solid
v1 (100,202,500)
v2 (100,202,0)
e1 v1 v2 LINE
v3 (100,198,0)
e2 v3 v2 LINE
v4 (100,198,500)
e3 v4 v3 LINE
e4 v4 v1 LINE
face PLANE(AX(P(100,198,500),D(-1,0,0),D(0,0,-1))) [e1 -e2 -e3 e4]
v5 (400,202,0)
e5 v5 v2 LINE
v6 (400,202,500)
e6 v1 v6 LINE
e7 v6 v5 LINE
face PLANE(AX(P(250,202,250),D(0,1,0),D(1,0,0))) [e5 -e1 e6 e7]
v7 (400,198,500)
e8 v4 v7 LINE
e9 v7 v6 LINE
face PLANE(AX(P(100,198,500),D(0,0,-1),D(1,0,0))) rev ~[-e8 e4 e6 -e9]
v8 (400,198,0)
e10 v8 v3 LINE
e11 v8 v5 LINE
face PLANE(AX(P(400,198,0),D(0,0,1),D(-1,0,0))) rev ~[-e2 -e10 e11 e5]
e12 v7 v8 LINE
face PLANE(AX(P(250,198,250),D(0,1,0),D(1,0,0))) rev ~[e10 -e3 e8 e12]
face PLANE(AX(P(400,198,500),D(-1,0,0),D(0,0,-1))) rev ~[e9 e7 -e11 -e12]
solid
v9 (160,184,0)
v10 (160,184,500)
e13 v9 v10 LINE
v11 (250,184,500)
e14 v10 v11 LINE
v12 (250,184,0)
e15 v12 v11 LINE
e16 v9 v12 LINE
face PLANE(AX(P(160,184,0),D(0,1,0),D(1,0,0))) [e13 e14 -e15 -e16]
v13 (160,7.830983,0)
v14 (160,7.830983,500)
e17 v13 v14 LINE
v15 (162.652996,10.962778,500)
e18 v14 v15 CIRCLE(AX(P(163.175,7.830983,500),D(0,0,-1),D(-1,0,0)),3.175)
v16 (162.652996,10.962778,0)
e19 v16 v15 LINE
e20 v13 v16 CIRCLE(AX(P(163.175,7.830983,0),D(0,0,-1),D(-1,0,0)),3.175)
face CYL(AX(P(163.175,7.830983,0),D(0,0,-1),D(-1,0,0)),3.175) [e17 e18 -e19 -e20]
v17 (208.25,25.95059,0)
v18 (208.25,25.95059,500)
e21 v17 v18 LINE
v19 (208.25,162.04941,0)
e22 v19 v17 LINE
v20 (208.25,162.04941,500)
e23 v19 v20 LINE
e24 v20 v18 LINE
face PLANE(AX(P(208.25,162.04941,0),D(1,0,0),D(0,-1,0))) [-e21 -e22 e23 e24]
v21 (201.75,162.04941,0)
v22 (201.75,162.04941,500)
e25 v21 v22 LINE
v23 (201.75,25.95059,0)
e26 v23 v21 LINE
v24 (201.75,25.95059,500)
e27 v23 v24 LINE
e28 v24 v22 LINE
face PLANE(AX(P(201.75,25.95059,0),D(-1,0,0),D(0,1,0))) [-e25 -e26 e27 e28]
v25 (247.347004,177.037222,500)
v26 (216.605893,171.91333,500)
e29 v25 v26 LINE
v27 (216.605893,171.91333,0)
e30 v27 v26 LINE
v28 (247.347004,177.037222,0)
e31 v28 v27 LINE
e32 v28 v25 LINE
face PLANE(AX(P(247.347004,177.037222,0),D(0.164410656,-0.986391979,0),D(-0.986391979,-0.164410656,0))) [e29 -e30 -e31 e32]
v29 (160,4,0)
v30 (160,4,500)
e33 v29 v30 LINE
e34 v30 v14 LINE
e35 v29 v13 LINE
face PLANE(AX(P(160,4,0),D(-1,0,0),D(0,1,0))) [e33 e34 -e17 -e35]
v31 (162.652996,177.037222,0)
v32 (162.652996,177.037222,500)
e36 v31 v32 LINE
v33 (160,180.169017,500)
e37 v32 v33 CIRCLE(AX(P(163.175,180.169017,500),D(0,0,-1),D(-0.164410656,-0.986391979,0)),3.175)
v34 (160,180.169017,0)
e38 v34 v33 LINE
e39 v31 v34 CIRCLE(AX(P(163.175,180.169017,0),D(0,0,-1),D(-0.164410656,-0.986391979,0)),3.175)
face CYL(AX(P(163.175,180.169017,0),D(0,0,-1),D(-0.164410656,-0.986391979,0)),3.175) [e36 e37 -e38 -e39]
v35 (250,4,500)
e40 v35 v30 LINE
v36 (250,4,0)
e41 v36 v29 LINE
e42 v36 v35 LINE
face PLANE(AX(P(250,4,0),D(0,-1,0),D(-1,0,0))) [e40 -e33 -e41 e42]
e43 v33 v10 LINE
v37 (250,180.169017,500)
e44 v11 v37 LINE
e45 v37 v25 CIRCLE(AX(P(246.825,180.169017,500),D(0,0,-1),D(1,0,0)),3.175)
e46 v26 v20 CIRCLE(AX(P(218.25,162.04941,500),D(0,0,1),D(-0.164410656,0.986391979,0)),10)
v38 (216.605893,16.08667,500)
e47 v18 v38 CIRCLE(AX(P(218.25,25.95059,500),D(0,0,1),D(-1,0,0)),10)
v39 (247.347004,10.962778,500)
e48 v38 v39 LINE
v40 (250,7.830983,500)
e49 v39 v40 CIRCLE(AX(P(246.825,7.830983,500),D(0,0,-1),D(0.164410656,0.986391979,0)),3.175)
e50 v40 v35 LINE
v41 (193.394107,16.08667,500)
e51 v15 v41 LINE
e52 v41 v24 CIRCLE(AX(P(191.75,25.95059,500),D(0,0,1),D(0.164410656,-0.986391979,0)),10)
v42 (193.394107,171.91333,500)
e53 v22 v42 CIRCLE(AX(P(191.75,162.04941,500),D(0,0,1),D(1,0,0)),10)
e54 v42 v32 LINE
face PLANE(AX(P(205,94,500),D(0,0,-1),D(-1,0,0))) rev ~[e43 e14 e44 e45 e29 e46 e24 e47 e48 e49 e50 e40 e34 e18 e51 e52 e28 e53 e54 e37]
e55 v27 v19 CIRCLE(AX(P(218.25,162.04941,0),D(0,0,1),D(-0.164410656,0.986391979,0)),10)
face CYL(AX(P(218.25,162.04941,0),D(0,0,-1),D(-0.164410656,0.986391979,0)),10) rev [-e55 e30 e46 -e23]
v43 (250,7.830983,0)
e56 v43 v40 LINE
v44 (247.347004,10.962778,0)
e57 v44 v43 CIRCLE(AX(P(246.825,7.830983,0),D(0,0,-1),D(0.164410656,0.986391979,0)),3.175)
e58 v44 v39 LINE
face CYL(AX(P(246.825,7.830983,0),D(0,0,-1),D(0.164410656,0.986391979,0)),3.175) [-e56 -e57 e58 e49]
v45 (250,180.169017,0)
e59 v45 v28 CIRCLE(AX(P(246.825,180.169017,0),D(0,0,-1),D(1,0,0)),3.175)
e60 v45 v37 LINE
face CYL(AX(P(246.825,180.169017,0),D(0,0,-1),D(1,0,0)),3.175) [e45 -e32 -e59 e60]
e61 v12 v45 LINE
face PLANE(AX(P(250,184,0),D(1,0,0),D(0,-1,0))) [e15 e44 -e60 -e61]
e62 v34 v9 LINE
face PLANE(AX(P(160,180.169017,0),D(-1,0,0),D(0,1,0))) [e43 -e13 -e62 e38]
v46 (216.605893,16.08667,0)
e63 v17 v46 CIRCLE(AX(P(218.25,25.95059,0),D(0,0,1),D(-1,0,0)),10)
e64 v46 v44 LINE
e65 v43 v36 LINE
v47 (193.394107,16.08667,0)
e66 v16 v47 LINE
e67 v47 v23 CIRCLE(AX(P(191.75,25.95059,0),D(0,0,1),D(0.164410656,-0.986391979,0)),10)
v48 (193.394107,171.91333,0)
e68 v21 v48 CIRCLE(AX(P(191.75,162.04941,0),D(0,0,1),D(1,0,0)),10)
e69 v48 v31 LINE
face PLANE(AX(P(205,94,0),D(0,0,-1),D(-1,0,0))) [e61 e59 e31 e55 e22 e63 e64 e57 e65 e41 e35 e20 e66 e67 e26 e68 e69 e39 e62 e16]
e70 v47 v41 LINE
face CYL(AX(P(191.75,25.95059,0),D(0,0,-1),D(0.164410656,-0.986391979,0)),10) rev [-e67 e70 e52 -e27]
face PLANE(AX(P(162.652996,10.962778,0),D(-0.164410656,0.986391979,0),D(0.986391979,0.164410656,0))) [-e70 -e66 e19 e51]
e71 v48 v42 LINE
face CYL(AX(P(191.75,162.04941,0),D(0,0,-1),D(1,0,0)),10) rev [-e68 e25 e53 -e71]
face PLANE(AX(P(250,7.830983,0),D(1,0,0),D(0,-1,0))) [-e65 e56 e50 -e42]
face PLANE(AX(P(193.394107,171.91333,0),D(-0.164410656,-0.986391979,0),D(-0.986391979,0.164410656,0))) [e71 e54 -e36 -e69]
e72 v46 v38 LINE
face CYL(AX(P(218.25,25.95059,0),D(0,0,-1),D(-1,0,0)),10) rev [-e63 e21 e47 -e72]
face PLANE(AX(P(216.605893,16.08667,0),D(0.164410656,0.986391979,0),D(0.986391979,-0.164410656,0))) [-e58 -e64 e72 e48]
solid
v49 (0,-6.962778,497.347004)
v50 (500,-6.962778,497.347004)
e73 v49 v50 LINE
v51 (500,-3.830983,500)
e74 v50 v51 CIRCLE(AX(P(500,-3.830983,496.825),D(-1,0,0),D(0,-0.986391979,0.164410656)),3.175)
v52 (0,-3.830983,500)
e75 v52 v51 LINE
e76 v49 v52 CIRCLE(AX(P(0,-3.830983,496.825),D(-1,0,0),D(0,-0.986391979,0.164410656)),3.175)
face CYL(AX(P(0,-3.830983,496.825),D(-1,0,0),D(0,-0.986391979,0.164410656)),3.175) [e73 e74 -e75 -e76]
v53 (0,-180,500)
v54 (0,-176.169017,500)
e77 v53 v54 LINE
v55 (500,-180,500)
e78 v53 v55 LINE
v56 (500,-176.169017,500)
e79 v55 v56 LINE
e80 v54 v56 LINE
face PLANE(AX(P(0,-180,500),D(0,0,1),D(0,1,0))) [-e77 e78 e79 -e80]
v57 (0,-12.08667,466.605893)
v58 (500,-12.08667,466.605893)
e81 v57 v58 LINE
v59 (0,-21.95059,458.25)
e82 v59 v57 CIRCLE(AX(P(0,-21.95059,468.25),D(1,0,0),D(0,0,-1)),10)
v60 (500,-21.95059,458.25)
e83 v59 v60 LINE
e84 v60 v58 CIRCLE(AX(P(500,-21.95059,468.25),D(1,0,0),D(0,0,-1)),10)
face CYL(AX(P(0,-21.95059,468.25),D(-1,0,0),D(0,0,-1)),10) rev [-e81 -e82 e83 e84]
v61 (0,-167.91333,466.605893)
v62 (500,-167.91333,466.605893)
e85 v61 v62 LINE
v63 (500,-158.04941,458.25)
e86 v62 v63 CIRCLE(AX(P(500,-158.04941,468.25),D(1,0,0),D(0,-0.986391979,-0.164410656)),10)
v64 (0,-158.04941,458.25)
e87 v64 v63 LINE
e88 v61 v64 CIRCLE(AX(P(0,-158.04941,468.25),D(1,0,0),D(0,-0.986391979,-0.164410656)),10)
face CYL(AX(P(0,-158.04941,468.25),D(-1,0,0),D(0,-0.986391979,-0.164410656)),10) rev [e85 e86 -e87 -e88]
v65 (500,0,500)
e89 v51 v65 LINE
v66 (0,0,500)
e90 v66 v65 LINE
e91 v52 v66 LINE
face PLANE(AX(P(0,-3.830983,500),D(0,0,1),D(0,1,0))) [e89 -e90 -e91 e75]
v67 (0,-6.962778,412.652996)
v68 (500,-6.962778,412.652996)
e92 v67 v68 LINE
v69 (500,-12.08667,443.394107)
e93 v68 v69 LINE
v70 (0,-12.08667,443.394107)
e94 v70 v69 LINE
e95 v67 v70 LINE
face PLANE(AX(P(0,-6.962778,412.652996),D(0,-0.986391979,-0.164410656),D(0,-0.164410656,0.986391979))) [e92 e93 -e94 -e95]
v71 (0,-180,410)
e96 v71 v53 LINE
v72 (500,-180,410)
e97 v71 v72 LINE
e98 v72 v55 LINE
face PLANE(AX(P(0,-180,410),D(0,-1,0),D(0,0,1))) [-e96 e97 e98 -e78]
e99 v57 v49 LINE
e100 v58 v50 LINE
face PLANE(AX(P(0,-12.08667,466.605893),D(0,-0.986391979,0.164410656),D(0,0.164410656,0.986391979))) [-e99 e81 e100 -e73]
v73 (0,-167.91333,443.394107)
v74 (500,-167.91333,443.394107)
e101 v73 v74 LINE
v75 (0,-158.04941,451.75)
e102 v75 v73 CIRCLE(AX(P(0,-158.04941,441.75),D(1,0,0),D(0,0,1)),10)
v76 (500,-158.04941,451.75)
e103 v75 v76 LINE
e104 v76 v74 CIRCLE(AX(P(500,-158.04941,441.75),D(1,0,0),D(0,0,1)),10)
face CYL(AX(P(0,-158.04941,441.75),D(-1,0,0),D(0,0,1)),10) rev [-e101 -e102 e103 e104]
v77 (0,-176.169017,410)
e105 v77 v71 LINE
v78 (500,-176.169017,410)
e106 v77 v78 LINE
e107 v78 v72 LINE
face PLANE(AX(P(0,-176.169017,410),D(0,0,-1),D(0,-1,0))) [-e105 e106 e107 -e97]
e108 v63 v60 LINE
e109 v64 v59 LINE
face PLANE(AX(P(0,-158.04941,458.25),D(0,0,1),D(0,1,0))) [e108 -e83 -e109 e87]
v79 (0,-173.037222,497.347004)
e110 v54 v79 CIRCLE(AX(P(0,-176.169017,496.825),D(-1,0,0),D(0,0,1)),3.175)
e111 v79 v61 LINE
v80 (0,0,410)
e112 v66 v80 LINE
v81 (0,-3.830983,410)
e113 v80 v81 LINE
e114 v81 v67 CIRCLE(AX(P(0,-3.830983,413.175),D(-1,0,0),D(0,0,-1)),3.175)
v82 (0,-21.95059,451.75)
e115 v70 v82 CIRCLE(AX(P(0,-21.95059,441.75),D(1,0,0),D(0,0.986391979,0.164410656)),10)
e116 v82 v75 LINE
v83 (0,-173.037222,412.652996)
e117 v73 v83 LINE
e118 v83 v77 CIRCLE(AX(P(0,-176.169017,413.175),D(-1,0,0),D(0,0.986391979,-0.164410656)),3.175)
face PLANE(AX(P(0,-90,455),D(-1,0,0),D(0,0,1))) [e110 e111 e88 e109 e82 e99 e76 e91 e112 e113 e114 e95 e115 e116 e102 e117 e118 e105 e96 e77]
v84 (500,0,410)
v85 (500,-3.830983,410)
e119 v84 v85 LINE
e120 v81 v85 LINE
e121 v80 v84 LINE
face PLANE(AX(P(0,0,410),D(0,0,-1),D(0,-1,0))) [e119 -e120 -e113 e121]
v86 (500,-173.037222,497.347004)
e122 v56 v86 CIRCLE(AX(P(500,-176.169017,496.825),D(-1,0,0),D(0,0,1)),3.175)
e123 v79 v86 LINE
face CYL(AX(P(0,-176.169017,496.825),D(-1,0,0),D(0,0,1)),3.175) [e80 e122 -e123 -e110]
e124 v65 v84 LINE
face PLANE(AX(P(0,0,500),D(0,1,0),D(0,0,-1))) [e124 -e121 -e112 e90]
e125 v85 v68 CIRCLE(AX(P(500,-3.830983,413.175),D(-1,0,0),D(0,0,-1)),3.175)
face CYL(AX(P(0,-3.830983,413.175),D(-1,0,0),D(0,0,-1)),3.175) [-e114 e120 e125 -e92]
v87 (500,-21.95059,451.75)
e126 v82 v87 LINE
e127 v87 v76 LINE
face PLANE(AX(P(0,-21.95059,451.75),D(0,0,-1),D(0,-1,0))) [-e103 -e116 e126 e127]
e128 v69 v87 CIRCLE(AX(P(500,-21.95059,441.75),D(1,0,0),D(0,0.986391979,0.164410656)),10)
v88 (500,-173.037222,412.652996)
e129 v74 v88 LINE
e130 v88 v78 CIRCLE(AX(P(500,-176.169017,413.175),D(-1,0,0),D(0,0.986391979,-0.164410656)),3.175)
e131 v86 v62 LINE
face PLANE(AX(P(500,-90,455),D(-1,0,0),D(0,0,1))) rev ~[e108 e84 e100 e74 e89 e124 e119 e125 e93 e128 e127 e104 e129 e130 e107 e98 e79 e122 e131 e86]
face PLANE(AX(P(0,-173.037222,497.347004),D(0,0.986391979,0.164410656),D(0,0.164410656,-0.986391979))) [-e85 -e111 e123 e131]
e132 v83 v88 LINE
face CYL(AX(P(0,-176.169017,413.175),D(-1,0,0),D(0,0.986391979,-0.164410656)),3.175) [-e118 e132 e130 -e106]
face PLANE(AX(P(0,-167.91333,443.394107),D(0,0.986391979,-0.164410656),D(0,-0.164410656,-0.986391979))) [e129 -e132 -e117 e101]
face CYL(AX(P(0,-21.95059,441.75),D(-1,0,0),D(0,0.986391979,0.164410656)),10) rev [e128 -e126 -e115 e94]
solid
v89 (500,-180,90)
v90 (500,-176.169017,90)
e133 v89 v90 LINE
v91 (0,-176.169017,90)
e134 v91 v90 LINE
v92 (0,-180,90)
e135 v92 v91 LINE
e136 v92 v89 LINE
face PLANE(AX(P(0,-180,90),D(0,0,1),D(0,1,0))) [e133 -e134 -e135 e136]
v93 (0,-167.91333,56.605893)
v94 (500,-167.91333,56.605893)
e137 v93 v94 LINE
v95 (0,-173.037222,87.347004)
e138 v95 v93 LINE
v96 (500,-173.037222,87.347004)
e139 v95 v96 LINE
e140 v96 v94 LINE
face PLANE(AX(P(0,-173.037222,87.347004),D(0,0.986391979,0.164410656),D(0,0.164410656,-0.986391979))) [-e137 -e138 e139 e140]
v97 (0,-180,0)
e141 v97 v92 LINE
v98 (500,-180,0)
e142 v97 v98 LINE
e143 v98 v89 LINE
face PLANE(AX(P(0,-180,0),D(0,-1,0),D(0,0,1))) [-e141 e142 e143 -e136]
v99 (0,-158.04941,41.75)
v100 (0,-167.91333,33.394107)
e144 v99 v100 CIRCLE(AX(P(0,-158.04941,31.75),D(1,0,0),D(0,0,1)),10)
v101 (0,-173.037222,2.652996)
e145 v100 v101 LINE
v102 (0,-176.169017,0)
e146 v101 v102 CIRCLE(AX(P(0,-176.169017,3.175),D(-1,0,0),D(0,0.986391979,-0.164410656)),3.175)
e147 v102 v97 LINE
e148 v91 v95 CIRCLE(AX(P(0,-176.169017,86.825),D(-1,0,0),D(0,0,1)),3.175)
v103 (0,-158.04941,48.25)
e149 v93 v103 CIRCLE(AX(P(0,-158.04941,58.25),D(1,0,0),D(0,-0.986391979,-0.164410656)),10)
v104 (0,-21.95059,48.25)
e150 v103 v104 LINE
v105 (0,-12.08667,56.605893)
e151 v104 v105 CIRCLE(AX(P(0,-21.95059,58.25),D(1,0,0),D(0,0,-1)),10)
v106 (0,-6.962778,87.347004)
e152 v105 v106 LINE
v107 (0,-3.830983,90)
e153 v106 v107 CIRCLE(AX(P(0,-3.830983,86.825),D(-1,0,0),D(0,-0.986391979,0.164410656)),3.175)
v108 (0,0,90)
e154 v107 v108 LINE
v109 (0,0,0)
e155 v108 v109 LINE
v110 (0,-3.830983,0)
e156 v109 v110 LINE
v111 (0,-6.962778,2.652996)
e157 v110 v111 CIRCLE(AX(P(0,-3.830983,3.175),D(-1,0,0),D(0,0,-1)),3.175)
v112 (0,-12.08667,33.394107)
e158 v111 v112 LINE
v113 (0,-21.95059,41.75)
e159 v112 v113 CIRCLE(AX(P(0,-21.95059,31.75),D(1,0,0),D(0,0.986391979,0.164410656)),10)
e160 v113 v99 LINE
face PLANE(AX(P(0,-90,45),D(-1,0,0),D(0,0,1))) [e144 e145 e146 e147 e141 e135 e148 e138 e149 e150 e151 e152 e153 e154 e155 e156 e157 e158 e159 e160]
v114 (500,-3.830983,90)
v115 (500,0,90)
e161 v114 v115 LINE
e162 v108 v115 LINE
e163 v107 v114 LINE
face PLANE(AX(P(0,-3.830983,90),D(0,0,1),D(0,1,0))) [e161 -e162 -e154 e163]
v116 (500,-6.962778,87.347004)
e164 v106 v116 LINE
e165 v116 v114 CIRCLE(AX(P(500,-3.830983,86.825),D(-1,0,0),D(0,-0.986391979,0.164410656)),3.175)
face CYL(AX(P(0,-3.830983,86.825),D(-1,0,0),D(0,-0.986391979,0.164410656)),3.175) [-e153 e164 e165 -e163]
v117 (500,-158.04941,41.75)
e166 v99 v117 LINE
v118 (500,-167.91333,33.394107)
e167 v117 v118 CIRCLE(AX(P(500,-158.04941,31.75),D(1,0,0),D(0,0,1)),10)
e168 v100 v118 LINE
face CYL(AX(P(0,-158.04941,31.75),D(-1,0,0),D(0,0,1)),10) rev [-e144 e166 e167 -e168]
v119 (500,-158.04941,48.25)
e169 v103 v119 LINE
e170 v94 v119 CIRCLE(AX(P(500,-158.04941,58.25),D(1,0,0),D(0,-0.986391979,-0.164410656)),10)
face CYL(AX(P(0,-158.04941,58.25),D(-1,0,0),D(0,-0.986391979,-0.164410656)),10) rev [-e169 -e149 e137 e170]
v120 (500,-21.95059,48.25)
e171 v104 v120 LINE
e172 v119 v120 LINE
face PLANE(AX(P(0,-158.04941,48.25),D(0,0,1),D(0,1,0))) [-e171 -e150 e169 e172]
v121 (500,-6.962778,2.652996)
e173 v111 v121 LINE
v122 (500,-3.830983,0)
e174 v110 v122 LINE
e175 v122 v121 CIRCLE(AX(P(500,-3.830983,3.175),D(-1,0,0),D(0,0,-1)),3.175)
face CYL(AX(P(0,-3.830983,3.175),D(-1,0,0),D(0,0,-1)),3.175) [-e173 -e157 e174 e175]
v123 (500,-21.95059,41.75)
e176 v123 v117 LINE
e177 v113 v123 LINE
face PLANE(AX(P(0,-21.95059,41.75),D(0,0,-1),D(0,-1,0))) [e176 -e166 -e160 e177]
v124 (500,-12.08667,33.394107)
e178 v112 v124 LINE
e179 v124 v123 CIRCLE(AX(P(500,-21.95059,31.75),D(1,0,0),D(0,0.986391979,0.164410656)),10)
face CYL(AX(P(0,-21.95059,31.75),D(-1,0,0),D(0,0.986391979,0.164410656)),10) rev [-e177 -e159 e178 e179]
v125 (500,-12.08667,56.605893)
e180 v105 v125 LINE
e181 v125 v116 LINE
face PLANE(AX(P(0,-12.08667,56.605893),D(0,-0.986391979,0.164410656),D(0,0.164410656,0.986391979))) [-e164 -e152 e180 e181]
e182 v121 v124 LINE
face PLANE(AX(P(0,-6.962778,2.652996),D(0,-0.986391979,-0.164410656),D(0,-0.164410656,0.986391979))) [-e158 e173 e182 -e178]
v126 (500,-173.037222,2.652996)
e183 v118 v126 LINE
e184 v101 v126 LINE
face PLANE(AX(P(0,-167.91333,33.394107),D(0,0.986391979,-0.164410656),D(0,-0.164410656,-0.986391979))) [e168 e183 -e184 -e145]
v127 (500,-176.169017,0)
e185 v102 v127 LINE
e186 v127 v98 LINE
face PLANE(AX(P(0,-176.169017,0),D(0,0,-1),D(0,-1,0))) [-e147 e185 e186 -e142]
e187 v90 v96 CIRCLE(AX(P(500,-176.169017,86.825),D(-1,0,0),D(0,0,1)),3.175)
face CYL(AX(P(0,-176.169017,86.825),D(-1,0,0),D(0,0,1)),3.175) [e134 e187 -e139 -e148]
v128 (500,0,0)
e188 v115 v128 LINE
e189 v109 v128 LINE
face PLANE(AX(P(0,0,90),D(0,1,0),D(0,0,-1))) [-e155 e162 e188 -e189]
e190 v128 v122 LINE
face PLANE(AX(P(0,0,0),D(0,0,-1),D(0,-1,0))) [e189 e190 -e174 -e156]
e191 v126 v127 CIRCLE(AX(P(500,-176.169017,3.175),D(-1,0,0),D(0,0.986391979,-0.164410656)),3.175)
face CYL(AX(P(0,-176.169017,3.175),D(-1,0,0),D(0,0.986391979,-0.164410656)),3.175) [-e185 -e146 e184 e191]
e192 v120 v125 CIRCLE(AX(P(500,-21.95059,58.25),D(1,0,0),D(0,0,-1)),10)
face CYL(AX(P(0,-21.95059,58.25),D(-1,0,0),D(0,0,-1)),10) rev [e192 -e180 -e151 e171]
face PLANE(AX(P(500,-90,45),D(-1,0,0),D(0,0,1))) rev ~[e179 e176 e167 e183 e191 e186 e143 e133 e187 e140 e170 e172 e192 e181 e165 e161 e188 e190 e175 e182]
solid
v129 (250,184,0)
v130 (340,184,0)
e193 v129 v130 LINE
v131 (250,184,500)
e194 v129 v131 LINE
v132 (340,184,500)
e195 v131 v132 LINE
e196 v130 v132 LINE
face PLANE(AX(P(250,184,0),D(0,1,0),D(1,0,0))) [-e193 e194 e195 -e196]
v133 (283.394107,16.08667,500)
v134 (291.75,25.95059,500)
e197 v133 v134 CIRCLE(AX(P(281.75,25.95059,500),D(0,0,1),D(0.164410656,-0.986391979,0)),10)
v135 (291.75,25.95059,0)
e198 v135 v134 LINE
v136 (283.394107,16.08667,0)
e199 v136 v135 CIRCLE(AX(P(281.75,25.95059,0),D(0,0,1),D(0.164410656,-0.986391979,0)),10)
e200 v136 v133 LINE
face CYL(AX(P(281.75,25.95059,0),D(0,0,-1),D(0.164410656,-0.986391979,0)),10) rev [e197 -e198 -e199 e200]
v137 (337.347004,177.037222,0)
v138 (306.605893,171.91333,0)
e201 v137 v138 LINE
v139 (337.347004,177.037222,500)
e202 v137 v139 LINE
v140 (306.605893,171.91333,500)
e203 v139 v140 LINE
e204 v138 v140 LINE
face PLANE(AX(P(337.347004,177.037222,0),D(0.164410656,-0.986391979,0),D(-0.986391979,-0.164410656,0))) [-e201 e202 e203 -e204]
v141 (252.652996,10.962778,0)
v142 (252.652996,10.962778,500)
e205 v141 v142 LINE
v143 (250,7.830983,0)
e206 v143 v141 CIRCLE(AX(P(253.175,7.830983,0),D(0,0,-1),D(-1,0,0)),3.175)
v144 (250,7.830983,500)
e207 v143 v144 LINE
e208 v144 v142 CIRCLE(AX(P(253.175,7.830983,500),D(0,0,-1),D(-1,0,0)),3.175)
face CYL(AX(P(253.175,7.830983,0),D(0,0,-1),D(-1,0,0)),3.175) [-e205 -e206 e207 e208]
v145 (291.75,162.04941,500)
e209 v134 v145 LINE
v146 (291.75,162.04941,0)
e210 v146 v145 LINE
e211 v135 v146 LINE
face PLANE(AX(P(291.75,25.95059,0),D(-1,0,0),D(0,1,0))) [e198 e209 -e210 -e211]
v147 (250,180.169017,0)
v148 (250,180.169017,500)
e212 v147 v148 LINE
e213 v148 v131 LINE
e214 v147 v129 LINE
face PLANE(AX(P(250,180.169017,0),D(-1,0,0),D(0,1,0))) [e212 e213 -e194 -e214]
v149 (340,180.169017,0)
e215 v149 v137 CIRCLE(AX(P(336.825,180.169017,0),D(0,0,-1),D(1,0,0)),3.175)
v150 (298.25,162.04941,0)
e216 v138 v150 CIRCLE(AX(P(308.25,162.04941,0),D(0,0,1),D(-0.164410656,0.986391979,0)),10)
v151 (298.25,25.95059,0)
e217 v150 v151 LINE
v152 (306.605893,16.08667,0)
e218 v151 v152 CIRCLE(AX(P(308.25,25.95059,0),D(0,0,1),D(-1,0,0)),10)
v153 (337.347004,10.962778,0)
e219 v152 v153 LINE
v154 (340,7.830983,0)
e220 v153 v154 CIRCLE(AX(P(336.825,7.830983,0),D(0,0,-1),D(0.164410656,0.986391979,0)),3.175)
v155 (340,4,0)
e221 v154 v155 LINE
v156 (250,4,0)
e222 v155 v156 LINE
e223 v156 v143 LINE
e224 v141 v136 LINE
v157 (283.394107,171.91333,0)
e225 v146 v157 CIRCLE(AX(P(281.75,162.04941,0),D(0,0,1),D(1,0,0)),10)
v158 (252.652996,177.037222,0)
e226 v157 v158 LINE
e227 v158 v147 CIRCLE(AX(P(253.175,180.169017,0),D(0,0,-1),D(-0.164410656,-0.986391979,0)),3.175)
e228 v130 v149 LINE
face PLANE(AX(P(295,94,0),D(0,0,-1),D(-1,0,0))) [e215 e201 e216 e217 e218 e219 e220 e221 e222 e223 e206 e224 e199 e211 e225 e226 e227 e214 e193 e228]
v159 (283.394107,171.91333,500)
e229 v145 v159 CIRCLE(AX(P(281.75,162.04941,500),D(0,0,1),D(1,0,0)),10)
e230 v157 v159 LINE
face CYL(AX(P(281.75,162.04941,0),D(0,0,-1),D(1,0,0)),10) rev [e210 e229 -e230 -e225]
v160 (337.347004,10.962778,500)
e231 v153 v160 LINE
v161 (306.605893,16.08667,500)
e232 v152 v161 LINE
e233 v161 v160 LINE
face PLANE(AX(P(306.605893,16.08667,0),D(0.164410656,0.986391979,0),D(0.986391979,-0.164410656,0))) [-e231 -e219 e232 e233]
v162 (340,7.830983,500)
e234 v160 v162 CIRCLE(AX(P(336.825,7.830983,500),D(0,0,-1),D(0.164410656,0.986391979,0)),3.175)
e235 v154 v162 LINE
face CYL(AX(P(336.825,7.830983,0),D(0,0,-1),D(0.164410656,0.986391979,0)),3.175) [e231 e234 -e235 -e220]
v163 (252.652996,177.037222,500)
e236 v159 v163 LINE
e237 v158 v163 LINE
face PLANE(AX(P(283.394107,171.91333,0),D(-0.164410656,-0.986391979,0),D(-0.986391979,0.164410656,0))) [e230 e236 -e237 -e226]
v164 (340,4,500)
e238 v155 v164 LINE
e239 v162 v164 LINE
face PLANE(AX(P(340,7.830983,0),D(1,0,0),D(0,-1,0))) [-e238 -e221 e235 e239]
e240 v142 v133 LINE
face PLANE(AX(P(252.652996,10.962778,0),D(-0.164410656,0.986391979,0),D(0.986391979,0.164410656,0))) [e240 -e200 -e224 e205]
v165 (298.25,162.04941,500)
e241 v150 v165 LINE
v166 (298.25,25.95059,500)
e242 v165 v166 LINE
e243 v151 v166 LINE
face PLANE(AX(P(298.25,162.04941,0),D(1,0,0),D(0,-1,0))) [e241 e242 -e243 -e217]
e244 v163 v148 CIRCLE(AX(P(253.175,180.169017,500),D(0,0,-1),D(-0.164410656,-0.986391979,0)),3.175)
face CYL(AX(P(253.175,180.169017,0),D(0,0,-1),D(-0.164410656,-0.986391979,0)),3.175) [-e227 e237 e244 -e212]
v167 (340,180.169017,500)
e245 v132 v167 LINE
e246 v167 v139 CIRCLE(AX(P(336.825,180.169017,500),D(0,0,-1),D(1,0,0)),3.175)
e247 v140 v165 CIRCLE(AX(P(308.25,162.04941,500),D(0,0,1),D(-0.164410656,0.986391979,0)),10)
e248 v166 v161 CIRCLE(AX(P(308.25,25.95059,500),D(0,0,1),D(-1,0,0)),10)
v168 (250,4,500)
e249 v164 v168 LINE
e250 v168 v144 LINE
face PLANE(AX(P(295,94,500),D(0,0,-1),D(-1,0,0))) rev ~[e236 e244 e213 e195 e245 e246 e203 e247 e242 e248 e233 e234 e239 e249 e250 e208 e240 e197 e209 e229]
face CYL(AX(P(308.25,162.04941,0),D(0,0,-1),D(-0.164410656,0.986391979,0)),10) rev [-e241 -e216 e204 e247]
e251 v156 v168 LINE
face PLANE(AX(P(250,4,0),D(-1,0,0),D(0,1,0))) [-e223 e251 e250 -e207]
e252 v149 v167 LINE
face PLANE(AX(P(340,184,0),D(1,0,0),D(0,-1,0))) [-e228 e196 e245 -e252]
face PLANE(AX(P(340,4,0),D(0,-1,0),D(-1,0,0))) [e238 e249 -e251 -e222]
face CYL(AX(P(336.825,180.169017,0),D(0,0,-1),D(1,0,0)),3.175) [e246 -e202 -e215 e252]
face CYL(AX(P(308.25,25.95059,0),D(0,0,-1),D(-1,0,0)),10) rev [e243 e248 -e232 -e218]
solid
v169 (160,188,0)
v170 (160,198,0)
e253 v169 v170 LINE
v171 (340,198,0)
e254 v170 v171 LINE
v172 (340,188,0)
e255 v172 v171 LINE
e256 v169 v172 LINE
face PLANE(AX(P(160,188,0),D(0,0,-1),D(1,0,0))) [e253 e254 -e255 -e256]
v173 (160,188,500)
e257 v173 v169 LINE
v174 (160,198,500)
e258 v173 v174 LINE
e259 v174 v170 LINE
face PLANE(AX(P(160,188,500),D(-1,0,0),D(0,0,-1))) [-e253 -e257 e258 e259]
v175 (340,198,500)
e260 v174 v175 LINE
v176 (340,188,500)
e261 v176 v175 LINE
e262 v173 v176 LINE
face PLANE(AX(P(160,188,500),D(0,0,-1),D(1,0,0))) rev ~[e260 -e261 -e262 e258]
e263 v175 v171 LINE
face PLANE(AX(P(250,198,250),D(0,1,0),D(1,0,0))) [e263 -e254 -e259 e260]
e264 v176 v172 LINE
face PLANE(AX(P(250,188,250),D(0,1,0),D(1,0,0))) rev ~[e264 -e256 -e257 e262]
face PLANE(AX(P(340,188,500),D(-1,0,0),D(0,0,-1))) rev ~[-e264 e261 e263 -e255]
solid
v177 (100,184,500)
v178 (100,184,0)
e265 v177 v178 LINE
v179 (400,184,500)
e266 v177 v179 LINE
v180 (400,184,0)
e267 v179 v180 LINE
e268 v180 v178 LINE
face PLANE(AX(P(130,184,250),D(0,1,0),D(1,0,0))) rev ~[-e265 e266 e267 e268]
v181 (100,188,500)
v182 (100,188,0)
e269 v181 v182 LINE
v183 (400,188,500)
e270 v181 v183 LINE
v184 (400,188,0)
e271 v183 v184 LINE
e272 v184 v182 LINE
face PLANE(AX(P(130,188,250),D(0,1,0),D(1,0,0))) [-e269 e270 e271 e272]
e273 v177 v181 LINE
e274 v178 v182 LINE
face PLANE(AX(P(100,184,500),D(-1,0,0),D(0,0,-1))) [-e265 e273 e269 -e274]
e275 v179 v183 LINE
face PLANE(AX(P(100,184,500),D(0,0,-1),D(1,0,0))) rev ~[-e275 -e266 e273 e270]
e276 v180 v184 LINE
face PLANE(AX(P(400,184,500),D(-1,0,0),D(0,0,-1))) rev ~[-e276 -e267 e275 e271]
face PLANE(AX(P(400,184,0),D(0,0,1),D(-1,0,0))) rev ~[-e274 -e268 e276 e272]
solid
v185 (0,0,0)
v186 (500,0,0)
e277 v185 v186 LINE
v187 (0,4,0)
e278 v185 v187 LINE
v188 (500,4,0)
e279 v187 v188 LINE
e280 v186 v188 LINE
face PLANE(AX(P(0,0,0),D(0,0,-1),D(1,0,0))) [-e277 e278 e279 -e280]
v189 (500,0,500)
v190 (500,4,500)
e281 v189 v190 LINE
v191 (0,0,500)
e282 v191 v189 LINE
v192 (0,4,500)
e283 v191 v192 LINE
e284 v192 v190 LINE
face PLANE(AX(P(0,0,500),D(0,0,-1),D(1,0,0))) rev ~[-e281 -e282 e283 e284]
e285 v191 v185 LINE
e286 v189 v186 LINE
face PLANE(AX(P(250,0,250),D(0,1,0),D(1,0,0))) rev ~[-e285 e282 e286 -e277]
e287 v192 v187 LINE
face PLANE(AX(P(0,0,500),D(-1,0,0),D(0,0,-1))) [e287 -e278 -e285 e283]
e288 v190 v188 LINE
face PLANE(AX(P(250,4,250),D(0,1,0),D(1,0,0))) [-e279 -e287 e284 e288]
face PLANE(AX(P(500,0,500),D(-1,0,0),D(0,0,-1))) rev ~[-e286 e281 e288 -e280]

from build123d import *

# Parameters (mm, degrees)
SB_BEAM_SB_180_X_23_1_DEPTH = 500
SB_BEAM_SB_180_X_23_2_DEPTH = 500
SKETCH1_W                   = 500
SKETCH1_H                   = 500
BOSS_EXTRUDE1_DEPTH         = 4
SB_BEAM_SB_180_X_23_3_DEPTH = 500
SB_BEAM_SB_180_X_23_4_DEPTH = 500
BOSS_EXTRUDE2_START         = 180
SKETCH132_W                 = 60
SKETCH132_H                 = 500
SKETCH132_W_2               = 180
BOSS_EXTRUDE2_DEPTH         = 4
BOSS_EXTRUDE3_START         = 184
SKETCH132_3_W               = 180
SKETCH132_3_H               = 500
BOSS_EXTRUDE3_DEPTH         = 10
BOSS_EXTRUDE4_START         = 194
SKETCH132_4_W               = 180
SKETCH132_4_H               = 500
SKETCH132_4_W_2             = 60
BOSS_EXTRUDE4_DEPTH         = 4


with BuildPart() as part:
    # Sketch125 → Sb beam SB 180 X 23(1) (new body)
    with BuildSketch(Plane(origin=(0, -90, 45), x_dir=(0, 0, -1), z_dir=(1, 0, 0))):
        with BuildLine():
            Line((-45, -90), (-45, -86.169016721))
            ThreePointArc((-45, -86.169016721), (-44.247600583, -84.116790755), (-42.347003833, -83.037222188))
            Line((-42.347003833, -83.037222188), (-11.60589344, -77.913330028))
            ThreePointArc((-11.60589344, -77.913330028), (-5.619761943, -74.513114068), (-3.25, -68.049410239))
            Line((-3.25, -68.049410239), (-3.25, 68.049410239))
            ThreePointArc((-3.25, 68.049410239), (-5.619761943, 74.513114068), (-11.60589344, 77.913330028))
            Line((-11.60589344, 77.913330028), (-42.347003833, 83.037222188))
            ThreePointArc((-42.347003833, 83.037222188), (-44.247600583, 84.116790755), (-45, 86.169016721))
            Line((-45, 86.169016721), (-45, 90))
            Line((-45, 90), (45, 90))
            Line((45, 90), (45, 86.169016721))
            ThreePointArc((45, 86.169016721), (44.247600583, 84.116790755), (42.347003833, 83.037222188))
            Line((42.347003833, 83.037222188), (11.60589344, 77.913330028))
            ThreePointArc((11.60589344, 77.913330028), (5.619761943, 74.513114068), (3.25, 68.049410239))
            Line((3.25, 68.049410239), (3.25, -68.049410239))
            ThreePointArc((3.25, -68.049410239), (5.619761943, -74.513114068), (11.60589344, -77.913330028))
            Line((11.60589344, -77.913330028), (42.347003833, -83.037222188))
            ThreePointArc((42.347003833, -83.037222188), (44.247600583, -84.116790755), (45, -86.169016721))
            Line((45, -86.169016721), (45, -90))
            Line((45, -90), (-45, -90))
        make_face()
    extrude(amount=SB_BEAM_SB_180_X_23_1_DEPTH)


with BuildPart() as body_2:
    # Sketch127 → Sb beam SB 180 X 23(2) (new body)
    with BuildSketch(Plane(origin=(0, -90, 455), x_dir=(0, 0, -1), z_dir=(1, 0, 0))):
        with BuildLine():
            Line((-45, -90), (-45, -86.169016721))
            ThreePointArc((-45, -86.169016721), (-44.247600583, -84.116790755), (-42.347003833, -83.037222188))
            Line((-42.347003833, -83.037222188), (-11.60589344, -77.913330028))
            ThreePointArc((-11.60589344, -77.913330028), (-5.619761943, -74.513114068), (-3.25, -68.049410239))
            Line((-3.25, -68.049410239), (-3.25, 68.049410239))
            ThreePointArc((-3.25, 68.049410239), (-5.619761943, 74.513114068), (-11.60589344, 77.913330028))
            Line((-11.60589344, 77.913330028), (-42.347003833, 83.037222188))
            ThreePointArc((-42.347003833, 83.037222188), (-44.247600583, 84.116790755), (-45, 86.169016721))
            Line((-45, 86.169016721), (-45, 90))
            Line((-45, 90), (45, 90))
            Line((45, 90), (45, 86.169016721))
            ThreePointArc((45, 86.169016721), (44.247600583, 84.116790755), (42.347003833, 83.037222188))
            Line((42.347003833, 83.037222188), (11.60589344, 77.913330028))
            ThreePointArc((11.60589344, 77.913330028), (5.619761943, 74.513114068), (3.25, 68.049410239))
            Line((3.25, 68.049410239), (3.25, -68.049410239))
            ThreePointArc((3.25, -68.049410239), (5.619761943, -74.513114068), (11.60589344, -77.913330028))
            Line((11.60589344, -77.913330028), (42.347003833, -83.037222188))
            ThreePointArc((42.347003833, -83.037222188), (44.247600583, -84.116790755), (45, -86.169016721))
            Line((45, -86.169016721), (45, -90))
            Line((45, -90), (-45, -90))
        make_face()
    extrude(amount=SB_BEAM_SB_180_X_23_2_DEPTH)


with BuildPart() as body_3:
    # Sketch1 → Boss-Extrude1 (new body)
    with BuildSketch(Plane(origin=(0, 0, 0), x_dir=(1, 0, 0), z_dir=(0, 1, 0))):
        with Locations((250, -250)):
            Rectangle(SKETCH1_W, SKETCH1_H)
    extrude(amount=BOSS_EXTRUDE1_DEPTH)


with BuildPart() as body_4:
    # Sketch129 → Sb beam SB 180 X 23(3) (new body)
    with BuildSketch(Plane(origin=(295, 94, 0), x_dir=(1, 0, 0), z_dir=(0, 0, 1))):
        with BuildLine():
            Line((-45, -90), (-45, -86.169016721))
            ThreePointArc((-45, -86.169016721), (-44.247600583, -84.116790755), (-42.347003833, -83.037222188))
            Line((-42.347003833, -83.037222188), (-11.60589344, -77.913330028))
            ThreePointArc((-11.60589344, -77.913330028), (-5.619761943, -74.513114068), (-3.25, -68.049410239))
            Line((-3.25, -68.049410239), (-3.25, 68.049410239))
            ThreePointArc((-3.25, 68.049410239), (-5.619761943, 74.513114068), (-11.60589344, 77.913330028))
            Line((-11.60589344, 77.913330028), (-42.347003833, 83.037222188))
            ThreePointArc((-42.347003833, 83.037222188), (-44.247600583, 84.116790755), (-45, 86.169016721))
            Line((-45, 86.169016721), (-45, 90))
            Line((-45, 90), (45, 90))
            Line((45, 90), (45, 86.169016721))
            ThreePointArc((45, 86.169016721), (44.247600583, 84.116790755), (42.347003833, 83.037222188))
            Line((42.347003833, 83.037222188), (11.60589344, 77.913330028))
            ThreePointArc((11.60589344, 77.913330028), (5.619761943, 74.513114068), (3.25, 68.049410239))
            Line((3.25, 68.049410239), (3.25, -68.049410239))
            ThreePointArc((3.25, -68.049410239), (5.619761943, -74.513114068), (11.60589344, -77.913330028))
            Line((11.60589344, -77.913330028), (42.347003833, -83.037222188))
            ThreePointArc((42.347003833, -83.037222188), (44.247600583, -84.116790755), (45, -86.169016721))
            Line((45, -86.169016721), (45, -90))
            Line((45, -90), (-45, -90))
        make_face()
    extrude(amount=SB_BEAM_SB_180_X_23_3_DEPTH)


with BuildPart() as body_5:
    # Sketch131 → Sb beam SB 180 X 23(4) (new body)
    with BuildSketch(Plane(origin=(205, 94, 0), x_dir=(1, 0, 0), z_dir=(0, 0, 1))):
        with BuildLine():
            Line((-45, -90), (-45, -86.169016721))
            ThreePointArc((-45, -86.169016721), (-44.247600583, -84.116790755), (-42.347003833, -83.037222188))
            Line((-42.347003833, -83.037222188), (-11.60589344, -77.913330028))
            ThreePointArc((-11.60589344, -77.913330028), (-5.619761943, -74.513114068), (-3.25, -68.049410239))
            Line((-3.25, -68.049410239), (-3.25, 68.049410239))
            ThreePointArc((-3.25, 68.049410239), (-5.619761943, 74.513114068), (-11.60589344, 77.913330028))
            Line((-11.60589344, 77.913330028), (-42.347003833, 83.037222188))
            ThreePointArc((-42.347003833, 83.037222188), (-44.247600583, 84.116790755), (-45, 86.169016721))
            Line((-45, 86.169016721), (-45, 90))
            Line((-45, 90), (45, 90))
            Line((45, 90), (45, 86.169016721))
            ThreePointArc((45, 86.169016721), (44.247600583, 84.116790755), (42.347003833, 83.037222188))
            Line((42.347003833, 83.037222188), (11.60589344, 77.913330028))
            ThreePointArc((11.60589344, 77.913330028), (5.619761943, 74.513114068), (3.25, 68.049410239))
            Line((3.25, 68.049410239), (3.25, -68.049410239))
            ThreePointArc((3.25, -68.049410239), (5.619761943, -74.513114068), (11.60589344, -77.913330028))
            Line((11.60589344, -77.913330028), (42.347003833, -83.037222188))
            ThreePointArc((42.347003833, -83.037222188), (44.247600583, -84.116790755), (45, -86.169016721))
            Line((45, -86.169016721), (45, -90))
            Line((45, -90), (-45, -90))
        make_face()
    extrude(amount=SB_BEAM_SB_180_X_23_4_DEPTH)


with BuildPart() as body_6:
    # Sketch132 → Boss-Extrude2 (new body)
    with BuildSketch(Plane(origin=(0, 4, 0), x_dir=(1, 0, 0), z_dir=(0, 1, 0)).offset(BOSS_EXTRUDE2_START)):
        with Locations((130, -250)):
            Rectangle(SKETCH132_W, SKETCH132_H)
        with Locations((370, -250)):
            Rectangle(SKETCH132_W, SKETCH132_H)
        with Locations((250, -250)):
            Rectangle(SKETCH132_W_2, SKETCH132_H)
    extrude(amount=BOSS_EXTRUDE2_DEPTH)


with BuildPart() as body_7:
    # Sketch132<3> → Boss-Extrude3 (new body)
    with BuildSketch(Plane(origin=(0, 4, 0), x_dir=(1, 0, 0), z_dir=(0, 1, 0)).offset(BOSS_EXTRUDE3_START)):
        with Locations((250, -250)):
            Rectangle(SKETCH132_3_W, SKETCH132_3_H)
    extrude(amount=BOSS_EXTRUDE3_DEPTH)


with BuildPart() as body_8:
    # Sketch132<4> → Boss-Extrude4 (new body)
    with BuildSketch(Plane(origin=(0, 4, 0), x_dir=(1, 0, 0), z_dir=(0, 1, 0)).offset(BOSS_EXTRUDE4_START)):
        with Locations((250, -250)):
            Rectangle(SKETCH132_4_W, SKETCH132_4_H)
        with Locations((370, -250)):
            Rectangle(SKETCH132_4_W_2, SKETCH132_4_H)
        with Locations((130, -250)):
            Rectangle(SKETCH132_4_W_2, SKETCH132_4_H)
    extrude(amount=BOSS_EXTRUDE4_DEPTH)


solid = Compound([part.part, body_2.part, body_3.part, body_4.part, body_5.part, body_6.part, body_7.part, body_8.part])
